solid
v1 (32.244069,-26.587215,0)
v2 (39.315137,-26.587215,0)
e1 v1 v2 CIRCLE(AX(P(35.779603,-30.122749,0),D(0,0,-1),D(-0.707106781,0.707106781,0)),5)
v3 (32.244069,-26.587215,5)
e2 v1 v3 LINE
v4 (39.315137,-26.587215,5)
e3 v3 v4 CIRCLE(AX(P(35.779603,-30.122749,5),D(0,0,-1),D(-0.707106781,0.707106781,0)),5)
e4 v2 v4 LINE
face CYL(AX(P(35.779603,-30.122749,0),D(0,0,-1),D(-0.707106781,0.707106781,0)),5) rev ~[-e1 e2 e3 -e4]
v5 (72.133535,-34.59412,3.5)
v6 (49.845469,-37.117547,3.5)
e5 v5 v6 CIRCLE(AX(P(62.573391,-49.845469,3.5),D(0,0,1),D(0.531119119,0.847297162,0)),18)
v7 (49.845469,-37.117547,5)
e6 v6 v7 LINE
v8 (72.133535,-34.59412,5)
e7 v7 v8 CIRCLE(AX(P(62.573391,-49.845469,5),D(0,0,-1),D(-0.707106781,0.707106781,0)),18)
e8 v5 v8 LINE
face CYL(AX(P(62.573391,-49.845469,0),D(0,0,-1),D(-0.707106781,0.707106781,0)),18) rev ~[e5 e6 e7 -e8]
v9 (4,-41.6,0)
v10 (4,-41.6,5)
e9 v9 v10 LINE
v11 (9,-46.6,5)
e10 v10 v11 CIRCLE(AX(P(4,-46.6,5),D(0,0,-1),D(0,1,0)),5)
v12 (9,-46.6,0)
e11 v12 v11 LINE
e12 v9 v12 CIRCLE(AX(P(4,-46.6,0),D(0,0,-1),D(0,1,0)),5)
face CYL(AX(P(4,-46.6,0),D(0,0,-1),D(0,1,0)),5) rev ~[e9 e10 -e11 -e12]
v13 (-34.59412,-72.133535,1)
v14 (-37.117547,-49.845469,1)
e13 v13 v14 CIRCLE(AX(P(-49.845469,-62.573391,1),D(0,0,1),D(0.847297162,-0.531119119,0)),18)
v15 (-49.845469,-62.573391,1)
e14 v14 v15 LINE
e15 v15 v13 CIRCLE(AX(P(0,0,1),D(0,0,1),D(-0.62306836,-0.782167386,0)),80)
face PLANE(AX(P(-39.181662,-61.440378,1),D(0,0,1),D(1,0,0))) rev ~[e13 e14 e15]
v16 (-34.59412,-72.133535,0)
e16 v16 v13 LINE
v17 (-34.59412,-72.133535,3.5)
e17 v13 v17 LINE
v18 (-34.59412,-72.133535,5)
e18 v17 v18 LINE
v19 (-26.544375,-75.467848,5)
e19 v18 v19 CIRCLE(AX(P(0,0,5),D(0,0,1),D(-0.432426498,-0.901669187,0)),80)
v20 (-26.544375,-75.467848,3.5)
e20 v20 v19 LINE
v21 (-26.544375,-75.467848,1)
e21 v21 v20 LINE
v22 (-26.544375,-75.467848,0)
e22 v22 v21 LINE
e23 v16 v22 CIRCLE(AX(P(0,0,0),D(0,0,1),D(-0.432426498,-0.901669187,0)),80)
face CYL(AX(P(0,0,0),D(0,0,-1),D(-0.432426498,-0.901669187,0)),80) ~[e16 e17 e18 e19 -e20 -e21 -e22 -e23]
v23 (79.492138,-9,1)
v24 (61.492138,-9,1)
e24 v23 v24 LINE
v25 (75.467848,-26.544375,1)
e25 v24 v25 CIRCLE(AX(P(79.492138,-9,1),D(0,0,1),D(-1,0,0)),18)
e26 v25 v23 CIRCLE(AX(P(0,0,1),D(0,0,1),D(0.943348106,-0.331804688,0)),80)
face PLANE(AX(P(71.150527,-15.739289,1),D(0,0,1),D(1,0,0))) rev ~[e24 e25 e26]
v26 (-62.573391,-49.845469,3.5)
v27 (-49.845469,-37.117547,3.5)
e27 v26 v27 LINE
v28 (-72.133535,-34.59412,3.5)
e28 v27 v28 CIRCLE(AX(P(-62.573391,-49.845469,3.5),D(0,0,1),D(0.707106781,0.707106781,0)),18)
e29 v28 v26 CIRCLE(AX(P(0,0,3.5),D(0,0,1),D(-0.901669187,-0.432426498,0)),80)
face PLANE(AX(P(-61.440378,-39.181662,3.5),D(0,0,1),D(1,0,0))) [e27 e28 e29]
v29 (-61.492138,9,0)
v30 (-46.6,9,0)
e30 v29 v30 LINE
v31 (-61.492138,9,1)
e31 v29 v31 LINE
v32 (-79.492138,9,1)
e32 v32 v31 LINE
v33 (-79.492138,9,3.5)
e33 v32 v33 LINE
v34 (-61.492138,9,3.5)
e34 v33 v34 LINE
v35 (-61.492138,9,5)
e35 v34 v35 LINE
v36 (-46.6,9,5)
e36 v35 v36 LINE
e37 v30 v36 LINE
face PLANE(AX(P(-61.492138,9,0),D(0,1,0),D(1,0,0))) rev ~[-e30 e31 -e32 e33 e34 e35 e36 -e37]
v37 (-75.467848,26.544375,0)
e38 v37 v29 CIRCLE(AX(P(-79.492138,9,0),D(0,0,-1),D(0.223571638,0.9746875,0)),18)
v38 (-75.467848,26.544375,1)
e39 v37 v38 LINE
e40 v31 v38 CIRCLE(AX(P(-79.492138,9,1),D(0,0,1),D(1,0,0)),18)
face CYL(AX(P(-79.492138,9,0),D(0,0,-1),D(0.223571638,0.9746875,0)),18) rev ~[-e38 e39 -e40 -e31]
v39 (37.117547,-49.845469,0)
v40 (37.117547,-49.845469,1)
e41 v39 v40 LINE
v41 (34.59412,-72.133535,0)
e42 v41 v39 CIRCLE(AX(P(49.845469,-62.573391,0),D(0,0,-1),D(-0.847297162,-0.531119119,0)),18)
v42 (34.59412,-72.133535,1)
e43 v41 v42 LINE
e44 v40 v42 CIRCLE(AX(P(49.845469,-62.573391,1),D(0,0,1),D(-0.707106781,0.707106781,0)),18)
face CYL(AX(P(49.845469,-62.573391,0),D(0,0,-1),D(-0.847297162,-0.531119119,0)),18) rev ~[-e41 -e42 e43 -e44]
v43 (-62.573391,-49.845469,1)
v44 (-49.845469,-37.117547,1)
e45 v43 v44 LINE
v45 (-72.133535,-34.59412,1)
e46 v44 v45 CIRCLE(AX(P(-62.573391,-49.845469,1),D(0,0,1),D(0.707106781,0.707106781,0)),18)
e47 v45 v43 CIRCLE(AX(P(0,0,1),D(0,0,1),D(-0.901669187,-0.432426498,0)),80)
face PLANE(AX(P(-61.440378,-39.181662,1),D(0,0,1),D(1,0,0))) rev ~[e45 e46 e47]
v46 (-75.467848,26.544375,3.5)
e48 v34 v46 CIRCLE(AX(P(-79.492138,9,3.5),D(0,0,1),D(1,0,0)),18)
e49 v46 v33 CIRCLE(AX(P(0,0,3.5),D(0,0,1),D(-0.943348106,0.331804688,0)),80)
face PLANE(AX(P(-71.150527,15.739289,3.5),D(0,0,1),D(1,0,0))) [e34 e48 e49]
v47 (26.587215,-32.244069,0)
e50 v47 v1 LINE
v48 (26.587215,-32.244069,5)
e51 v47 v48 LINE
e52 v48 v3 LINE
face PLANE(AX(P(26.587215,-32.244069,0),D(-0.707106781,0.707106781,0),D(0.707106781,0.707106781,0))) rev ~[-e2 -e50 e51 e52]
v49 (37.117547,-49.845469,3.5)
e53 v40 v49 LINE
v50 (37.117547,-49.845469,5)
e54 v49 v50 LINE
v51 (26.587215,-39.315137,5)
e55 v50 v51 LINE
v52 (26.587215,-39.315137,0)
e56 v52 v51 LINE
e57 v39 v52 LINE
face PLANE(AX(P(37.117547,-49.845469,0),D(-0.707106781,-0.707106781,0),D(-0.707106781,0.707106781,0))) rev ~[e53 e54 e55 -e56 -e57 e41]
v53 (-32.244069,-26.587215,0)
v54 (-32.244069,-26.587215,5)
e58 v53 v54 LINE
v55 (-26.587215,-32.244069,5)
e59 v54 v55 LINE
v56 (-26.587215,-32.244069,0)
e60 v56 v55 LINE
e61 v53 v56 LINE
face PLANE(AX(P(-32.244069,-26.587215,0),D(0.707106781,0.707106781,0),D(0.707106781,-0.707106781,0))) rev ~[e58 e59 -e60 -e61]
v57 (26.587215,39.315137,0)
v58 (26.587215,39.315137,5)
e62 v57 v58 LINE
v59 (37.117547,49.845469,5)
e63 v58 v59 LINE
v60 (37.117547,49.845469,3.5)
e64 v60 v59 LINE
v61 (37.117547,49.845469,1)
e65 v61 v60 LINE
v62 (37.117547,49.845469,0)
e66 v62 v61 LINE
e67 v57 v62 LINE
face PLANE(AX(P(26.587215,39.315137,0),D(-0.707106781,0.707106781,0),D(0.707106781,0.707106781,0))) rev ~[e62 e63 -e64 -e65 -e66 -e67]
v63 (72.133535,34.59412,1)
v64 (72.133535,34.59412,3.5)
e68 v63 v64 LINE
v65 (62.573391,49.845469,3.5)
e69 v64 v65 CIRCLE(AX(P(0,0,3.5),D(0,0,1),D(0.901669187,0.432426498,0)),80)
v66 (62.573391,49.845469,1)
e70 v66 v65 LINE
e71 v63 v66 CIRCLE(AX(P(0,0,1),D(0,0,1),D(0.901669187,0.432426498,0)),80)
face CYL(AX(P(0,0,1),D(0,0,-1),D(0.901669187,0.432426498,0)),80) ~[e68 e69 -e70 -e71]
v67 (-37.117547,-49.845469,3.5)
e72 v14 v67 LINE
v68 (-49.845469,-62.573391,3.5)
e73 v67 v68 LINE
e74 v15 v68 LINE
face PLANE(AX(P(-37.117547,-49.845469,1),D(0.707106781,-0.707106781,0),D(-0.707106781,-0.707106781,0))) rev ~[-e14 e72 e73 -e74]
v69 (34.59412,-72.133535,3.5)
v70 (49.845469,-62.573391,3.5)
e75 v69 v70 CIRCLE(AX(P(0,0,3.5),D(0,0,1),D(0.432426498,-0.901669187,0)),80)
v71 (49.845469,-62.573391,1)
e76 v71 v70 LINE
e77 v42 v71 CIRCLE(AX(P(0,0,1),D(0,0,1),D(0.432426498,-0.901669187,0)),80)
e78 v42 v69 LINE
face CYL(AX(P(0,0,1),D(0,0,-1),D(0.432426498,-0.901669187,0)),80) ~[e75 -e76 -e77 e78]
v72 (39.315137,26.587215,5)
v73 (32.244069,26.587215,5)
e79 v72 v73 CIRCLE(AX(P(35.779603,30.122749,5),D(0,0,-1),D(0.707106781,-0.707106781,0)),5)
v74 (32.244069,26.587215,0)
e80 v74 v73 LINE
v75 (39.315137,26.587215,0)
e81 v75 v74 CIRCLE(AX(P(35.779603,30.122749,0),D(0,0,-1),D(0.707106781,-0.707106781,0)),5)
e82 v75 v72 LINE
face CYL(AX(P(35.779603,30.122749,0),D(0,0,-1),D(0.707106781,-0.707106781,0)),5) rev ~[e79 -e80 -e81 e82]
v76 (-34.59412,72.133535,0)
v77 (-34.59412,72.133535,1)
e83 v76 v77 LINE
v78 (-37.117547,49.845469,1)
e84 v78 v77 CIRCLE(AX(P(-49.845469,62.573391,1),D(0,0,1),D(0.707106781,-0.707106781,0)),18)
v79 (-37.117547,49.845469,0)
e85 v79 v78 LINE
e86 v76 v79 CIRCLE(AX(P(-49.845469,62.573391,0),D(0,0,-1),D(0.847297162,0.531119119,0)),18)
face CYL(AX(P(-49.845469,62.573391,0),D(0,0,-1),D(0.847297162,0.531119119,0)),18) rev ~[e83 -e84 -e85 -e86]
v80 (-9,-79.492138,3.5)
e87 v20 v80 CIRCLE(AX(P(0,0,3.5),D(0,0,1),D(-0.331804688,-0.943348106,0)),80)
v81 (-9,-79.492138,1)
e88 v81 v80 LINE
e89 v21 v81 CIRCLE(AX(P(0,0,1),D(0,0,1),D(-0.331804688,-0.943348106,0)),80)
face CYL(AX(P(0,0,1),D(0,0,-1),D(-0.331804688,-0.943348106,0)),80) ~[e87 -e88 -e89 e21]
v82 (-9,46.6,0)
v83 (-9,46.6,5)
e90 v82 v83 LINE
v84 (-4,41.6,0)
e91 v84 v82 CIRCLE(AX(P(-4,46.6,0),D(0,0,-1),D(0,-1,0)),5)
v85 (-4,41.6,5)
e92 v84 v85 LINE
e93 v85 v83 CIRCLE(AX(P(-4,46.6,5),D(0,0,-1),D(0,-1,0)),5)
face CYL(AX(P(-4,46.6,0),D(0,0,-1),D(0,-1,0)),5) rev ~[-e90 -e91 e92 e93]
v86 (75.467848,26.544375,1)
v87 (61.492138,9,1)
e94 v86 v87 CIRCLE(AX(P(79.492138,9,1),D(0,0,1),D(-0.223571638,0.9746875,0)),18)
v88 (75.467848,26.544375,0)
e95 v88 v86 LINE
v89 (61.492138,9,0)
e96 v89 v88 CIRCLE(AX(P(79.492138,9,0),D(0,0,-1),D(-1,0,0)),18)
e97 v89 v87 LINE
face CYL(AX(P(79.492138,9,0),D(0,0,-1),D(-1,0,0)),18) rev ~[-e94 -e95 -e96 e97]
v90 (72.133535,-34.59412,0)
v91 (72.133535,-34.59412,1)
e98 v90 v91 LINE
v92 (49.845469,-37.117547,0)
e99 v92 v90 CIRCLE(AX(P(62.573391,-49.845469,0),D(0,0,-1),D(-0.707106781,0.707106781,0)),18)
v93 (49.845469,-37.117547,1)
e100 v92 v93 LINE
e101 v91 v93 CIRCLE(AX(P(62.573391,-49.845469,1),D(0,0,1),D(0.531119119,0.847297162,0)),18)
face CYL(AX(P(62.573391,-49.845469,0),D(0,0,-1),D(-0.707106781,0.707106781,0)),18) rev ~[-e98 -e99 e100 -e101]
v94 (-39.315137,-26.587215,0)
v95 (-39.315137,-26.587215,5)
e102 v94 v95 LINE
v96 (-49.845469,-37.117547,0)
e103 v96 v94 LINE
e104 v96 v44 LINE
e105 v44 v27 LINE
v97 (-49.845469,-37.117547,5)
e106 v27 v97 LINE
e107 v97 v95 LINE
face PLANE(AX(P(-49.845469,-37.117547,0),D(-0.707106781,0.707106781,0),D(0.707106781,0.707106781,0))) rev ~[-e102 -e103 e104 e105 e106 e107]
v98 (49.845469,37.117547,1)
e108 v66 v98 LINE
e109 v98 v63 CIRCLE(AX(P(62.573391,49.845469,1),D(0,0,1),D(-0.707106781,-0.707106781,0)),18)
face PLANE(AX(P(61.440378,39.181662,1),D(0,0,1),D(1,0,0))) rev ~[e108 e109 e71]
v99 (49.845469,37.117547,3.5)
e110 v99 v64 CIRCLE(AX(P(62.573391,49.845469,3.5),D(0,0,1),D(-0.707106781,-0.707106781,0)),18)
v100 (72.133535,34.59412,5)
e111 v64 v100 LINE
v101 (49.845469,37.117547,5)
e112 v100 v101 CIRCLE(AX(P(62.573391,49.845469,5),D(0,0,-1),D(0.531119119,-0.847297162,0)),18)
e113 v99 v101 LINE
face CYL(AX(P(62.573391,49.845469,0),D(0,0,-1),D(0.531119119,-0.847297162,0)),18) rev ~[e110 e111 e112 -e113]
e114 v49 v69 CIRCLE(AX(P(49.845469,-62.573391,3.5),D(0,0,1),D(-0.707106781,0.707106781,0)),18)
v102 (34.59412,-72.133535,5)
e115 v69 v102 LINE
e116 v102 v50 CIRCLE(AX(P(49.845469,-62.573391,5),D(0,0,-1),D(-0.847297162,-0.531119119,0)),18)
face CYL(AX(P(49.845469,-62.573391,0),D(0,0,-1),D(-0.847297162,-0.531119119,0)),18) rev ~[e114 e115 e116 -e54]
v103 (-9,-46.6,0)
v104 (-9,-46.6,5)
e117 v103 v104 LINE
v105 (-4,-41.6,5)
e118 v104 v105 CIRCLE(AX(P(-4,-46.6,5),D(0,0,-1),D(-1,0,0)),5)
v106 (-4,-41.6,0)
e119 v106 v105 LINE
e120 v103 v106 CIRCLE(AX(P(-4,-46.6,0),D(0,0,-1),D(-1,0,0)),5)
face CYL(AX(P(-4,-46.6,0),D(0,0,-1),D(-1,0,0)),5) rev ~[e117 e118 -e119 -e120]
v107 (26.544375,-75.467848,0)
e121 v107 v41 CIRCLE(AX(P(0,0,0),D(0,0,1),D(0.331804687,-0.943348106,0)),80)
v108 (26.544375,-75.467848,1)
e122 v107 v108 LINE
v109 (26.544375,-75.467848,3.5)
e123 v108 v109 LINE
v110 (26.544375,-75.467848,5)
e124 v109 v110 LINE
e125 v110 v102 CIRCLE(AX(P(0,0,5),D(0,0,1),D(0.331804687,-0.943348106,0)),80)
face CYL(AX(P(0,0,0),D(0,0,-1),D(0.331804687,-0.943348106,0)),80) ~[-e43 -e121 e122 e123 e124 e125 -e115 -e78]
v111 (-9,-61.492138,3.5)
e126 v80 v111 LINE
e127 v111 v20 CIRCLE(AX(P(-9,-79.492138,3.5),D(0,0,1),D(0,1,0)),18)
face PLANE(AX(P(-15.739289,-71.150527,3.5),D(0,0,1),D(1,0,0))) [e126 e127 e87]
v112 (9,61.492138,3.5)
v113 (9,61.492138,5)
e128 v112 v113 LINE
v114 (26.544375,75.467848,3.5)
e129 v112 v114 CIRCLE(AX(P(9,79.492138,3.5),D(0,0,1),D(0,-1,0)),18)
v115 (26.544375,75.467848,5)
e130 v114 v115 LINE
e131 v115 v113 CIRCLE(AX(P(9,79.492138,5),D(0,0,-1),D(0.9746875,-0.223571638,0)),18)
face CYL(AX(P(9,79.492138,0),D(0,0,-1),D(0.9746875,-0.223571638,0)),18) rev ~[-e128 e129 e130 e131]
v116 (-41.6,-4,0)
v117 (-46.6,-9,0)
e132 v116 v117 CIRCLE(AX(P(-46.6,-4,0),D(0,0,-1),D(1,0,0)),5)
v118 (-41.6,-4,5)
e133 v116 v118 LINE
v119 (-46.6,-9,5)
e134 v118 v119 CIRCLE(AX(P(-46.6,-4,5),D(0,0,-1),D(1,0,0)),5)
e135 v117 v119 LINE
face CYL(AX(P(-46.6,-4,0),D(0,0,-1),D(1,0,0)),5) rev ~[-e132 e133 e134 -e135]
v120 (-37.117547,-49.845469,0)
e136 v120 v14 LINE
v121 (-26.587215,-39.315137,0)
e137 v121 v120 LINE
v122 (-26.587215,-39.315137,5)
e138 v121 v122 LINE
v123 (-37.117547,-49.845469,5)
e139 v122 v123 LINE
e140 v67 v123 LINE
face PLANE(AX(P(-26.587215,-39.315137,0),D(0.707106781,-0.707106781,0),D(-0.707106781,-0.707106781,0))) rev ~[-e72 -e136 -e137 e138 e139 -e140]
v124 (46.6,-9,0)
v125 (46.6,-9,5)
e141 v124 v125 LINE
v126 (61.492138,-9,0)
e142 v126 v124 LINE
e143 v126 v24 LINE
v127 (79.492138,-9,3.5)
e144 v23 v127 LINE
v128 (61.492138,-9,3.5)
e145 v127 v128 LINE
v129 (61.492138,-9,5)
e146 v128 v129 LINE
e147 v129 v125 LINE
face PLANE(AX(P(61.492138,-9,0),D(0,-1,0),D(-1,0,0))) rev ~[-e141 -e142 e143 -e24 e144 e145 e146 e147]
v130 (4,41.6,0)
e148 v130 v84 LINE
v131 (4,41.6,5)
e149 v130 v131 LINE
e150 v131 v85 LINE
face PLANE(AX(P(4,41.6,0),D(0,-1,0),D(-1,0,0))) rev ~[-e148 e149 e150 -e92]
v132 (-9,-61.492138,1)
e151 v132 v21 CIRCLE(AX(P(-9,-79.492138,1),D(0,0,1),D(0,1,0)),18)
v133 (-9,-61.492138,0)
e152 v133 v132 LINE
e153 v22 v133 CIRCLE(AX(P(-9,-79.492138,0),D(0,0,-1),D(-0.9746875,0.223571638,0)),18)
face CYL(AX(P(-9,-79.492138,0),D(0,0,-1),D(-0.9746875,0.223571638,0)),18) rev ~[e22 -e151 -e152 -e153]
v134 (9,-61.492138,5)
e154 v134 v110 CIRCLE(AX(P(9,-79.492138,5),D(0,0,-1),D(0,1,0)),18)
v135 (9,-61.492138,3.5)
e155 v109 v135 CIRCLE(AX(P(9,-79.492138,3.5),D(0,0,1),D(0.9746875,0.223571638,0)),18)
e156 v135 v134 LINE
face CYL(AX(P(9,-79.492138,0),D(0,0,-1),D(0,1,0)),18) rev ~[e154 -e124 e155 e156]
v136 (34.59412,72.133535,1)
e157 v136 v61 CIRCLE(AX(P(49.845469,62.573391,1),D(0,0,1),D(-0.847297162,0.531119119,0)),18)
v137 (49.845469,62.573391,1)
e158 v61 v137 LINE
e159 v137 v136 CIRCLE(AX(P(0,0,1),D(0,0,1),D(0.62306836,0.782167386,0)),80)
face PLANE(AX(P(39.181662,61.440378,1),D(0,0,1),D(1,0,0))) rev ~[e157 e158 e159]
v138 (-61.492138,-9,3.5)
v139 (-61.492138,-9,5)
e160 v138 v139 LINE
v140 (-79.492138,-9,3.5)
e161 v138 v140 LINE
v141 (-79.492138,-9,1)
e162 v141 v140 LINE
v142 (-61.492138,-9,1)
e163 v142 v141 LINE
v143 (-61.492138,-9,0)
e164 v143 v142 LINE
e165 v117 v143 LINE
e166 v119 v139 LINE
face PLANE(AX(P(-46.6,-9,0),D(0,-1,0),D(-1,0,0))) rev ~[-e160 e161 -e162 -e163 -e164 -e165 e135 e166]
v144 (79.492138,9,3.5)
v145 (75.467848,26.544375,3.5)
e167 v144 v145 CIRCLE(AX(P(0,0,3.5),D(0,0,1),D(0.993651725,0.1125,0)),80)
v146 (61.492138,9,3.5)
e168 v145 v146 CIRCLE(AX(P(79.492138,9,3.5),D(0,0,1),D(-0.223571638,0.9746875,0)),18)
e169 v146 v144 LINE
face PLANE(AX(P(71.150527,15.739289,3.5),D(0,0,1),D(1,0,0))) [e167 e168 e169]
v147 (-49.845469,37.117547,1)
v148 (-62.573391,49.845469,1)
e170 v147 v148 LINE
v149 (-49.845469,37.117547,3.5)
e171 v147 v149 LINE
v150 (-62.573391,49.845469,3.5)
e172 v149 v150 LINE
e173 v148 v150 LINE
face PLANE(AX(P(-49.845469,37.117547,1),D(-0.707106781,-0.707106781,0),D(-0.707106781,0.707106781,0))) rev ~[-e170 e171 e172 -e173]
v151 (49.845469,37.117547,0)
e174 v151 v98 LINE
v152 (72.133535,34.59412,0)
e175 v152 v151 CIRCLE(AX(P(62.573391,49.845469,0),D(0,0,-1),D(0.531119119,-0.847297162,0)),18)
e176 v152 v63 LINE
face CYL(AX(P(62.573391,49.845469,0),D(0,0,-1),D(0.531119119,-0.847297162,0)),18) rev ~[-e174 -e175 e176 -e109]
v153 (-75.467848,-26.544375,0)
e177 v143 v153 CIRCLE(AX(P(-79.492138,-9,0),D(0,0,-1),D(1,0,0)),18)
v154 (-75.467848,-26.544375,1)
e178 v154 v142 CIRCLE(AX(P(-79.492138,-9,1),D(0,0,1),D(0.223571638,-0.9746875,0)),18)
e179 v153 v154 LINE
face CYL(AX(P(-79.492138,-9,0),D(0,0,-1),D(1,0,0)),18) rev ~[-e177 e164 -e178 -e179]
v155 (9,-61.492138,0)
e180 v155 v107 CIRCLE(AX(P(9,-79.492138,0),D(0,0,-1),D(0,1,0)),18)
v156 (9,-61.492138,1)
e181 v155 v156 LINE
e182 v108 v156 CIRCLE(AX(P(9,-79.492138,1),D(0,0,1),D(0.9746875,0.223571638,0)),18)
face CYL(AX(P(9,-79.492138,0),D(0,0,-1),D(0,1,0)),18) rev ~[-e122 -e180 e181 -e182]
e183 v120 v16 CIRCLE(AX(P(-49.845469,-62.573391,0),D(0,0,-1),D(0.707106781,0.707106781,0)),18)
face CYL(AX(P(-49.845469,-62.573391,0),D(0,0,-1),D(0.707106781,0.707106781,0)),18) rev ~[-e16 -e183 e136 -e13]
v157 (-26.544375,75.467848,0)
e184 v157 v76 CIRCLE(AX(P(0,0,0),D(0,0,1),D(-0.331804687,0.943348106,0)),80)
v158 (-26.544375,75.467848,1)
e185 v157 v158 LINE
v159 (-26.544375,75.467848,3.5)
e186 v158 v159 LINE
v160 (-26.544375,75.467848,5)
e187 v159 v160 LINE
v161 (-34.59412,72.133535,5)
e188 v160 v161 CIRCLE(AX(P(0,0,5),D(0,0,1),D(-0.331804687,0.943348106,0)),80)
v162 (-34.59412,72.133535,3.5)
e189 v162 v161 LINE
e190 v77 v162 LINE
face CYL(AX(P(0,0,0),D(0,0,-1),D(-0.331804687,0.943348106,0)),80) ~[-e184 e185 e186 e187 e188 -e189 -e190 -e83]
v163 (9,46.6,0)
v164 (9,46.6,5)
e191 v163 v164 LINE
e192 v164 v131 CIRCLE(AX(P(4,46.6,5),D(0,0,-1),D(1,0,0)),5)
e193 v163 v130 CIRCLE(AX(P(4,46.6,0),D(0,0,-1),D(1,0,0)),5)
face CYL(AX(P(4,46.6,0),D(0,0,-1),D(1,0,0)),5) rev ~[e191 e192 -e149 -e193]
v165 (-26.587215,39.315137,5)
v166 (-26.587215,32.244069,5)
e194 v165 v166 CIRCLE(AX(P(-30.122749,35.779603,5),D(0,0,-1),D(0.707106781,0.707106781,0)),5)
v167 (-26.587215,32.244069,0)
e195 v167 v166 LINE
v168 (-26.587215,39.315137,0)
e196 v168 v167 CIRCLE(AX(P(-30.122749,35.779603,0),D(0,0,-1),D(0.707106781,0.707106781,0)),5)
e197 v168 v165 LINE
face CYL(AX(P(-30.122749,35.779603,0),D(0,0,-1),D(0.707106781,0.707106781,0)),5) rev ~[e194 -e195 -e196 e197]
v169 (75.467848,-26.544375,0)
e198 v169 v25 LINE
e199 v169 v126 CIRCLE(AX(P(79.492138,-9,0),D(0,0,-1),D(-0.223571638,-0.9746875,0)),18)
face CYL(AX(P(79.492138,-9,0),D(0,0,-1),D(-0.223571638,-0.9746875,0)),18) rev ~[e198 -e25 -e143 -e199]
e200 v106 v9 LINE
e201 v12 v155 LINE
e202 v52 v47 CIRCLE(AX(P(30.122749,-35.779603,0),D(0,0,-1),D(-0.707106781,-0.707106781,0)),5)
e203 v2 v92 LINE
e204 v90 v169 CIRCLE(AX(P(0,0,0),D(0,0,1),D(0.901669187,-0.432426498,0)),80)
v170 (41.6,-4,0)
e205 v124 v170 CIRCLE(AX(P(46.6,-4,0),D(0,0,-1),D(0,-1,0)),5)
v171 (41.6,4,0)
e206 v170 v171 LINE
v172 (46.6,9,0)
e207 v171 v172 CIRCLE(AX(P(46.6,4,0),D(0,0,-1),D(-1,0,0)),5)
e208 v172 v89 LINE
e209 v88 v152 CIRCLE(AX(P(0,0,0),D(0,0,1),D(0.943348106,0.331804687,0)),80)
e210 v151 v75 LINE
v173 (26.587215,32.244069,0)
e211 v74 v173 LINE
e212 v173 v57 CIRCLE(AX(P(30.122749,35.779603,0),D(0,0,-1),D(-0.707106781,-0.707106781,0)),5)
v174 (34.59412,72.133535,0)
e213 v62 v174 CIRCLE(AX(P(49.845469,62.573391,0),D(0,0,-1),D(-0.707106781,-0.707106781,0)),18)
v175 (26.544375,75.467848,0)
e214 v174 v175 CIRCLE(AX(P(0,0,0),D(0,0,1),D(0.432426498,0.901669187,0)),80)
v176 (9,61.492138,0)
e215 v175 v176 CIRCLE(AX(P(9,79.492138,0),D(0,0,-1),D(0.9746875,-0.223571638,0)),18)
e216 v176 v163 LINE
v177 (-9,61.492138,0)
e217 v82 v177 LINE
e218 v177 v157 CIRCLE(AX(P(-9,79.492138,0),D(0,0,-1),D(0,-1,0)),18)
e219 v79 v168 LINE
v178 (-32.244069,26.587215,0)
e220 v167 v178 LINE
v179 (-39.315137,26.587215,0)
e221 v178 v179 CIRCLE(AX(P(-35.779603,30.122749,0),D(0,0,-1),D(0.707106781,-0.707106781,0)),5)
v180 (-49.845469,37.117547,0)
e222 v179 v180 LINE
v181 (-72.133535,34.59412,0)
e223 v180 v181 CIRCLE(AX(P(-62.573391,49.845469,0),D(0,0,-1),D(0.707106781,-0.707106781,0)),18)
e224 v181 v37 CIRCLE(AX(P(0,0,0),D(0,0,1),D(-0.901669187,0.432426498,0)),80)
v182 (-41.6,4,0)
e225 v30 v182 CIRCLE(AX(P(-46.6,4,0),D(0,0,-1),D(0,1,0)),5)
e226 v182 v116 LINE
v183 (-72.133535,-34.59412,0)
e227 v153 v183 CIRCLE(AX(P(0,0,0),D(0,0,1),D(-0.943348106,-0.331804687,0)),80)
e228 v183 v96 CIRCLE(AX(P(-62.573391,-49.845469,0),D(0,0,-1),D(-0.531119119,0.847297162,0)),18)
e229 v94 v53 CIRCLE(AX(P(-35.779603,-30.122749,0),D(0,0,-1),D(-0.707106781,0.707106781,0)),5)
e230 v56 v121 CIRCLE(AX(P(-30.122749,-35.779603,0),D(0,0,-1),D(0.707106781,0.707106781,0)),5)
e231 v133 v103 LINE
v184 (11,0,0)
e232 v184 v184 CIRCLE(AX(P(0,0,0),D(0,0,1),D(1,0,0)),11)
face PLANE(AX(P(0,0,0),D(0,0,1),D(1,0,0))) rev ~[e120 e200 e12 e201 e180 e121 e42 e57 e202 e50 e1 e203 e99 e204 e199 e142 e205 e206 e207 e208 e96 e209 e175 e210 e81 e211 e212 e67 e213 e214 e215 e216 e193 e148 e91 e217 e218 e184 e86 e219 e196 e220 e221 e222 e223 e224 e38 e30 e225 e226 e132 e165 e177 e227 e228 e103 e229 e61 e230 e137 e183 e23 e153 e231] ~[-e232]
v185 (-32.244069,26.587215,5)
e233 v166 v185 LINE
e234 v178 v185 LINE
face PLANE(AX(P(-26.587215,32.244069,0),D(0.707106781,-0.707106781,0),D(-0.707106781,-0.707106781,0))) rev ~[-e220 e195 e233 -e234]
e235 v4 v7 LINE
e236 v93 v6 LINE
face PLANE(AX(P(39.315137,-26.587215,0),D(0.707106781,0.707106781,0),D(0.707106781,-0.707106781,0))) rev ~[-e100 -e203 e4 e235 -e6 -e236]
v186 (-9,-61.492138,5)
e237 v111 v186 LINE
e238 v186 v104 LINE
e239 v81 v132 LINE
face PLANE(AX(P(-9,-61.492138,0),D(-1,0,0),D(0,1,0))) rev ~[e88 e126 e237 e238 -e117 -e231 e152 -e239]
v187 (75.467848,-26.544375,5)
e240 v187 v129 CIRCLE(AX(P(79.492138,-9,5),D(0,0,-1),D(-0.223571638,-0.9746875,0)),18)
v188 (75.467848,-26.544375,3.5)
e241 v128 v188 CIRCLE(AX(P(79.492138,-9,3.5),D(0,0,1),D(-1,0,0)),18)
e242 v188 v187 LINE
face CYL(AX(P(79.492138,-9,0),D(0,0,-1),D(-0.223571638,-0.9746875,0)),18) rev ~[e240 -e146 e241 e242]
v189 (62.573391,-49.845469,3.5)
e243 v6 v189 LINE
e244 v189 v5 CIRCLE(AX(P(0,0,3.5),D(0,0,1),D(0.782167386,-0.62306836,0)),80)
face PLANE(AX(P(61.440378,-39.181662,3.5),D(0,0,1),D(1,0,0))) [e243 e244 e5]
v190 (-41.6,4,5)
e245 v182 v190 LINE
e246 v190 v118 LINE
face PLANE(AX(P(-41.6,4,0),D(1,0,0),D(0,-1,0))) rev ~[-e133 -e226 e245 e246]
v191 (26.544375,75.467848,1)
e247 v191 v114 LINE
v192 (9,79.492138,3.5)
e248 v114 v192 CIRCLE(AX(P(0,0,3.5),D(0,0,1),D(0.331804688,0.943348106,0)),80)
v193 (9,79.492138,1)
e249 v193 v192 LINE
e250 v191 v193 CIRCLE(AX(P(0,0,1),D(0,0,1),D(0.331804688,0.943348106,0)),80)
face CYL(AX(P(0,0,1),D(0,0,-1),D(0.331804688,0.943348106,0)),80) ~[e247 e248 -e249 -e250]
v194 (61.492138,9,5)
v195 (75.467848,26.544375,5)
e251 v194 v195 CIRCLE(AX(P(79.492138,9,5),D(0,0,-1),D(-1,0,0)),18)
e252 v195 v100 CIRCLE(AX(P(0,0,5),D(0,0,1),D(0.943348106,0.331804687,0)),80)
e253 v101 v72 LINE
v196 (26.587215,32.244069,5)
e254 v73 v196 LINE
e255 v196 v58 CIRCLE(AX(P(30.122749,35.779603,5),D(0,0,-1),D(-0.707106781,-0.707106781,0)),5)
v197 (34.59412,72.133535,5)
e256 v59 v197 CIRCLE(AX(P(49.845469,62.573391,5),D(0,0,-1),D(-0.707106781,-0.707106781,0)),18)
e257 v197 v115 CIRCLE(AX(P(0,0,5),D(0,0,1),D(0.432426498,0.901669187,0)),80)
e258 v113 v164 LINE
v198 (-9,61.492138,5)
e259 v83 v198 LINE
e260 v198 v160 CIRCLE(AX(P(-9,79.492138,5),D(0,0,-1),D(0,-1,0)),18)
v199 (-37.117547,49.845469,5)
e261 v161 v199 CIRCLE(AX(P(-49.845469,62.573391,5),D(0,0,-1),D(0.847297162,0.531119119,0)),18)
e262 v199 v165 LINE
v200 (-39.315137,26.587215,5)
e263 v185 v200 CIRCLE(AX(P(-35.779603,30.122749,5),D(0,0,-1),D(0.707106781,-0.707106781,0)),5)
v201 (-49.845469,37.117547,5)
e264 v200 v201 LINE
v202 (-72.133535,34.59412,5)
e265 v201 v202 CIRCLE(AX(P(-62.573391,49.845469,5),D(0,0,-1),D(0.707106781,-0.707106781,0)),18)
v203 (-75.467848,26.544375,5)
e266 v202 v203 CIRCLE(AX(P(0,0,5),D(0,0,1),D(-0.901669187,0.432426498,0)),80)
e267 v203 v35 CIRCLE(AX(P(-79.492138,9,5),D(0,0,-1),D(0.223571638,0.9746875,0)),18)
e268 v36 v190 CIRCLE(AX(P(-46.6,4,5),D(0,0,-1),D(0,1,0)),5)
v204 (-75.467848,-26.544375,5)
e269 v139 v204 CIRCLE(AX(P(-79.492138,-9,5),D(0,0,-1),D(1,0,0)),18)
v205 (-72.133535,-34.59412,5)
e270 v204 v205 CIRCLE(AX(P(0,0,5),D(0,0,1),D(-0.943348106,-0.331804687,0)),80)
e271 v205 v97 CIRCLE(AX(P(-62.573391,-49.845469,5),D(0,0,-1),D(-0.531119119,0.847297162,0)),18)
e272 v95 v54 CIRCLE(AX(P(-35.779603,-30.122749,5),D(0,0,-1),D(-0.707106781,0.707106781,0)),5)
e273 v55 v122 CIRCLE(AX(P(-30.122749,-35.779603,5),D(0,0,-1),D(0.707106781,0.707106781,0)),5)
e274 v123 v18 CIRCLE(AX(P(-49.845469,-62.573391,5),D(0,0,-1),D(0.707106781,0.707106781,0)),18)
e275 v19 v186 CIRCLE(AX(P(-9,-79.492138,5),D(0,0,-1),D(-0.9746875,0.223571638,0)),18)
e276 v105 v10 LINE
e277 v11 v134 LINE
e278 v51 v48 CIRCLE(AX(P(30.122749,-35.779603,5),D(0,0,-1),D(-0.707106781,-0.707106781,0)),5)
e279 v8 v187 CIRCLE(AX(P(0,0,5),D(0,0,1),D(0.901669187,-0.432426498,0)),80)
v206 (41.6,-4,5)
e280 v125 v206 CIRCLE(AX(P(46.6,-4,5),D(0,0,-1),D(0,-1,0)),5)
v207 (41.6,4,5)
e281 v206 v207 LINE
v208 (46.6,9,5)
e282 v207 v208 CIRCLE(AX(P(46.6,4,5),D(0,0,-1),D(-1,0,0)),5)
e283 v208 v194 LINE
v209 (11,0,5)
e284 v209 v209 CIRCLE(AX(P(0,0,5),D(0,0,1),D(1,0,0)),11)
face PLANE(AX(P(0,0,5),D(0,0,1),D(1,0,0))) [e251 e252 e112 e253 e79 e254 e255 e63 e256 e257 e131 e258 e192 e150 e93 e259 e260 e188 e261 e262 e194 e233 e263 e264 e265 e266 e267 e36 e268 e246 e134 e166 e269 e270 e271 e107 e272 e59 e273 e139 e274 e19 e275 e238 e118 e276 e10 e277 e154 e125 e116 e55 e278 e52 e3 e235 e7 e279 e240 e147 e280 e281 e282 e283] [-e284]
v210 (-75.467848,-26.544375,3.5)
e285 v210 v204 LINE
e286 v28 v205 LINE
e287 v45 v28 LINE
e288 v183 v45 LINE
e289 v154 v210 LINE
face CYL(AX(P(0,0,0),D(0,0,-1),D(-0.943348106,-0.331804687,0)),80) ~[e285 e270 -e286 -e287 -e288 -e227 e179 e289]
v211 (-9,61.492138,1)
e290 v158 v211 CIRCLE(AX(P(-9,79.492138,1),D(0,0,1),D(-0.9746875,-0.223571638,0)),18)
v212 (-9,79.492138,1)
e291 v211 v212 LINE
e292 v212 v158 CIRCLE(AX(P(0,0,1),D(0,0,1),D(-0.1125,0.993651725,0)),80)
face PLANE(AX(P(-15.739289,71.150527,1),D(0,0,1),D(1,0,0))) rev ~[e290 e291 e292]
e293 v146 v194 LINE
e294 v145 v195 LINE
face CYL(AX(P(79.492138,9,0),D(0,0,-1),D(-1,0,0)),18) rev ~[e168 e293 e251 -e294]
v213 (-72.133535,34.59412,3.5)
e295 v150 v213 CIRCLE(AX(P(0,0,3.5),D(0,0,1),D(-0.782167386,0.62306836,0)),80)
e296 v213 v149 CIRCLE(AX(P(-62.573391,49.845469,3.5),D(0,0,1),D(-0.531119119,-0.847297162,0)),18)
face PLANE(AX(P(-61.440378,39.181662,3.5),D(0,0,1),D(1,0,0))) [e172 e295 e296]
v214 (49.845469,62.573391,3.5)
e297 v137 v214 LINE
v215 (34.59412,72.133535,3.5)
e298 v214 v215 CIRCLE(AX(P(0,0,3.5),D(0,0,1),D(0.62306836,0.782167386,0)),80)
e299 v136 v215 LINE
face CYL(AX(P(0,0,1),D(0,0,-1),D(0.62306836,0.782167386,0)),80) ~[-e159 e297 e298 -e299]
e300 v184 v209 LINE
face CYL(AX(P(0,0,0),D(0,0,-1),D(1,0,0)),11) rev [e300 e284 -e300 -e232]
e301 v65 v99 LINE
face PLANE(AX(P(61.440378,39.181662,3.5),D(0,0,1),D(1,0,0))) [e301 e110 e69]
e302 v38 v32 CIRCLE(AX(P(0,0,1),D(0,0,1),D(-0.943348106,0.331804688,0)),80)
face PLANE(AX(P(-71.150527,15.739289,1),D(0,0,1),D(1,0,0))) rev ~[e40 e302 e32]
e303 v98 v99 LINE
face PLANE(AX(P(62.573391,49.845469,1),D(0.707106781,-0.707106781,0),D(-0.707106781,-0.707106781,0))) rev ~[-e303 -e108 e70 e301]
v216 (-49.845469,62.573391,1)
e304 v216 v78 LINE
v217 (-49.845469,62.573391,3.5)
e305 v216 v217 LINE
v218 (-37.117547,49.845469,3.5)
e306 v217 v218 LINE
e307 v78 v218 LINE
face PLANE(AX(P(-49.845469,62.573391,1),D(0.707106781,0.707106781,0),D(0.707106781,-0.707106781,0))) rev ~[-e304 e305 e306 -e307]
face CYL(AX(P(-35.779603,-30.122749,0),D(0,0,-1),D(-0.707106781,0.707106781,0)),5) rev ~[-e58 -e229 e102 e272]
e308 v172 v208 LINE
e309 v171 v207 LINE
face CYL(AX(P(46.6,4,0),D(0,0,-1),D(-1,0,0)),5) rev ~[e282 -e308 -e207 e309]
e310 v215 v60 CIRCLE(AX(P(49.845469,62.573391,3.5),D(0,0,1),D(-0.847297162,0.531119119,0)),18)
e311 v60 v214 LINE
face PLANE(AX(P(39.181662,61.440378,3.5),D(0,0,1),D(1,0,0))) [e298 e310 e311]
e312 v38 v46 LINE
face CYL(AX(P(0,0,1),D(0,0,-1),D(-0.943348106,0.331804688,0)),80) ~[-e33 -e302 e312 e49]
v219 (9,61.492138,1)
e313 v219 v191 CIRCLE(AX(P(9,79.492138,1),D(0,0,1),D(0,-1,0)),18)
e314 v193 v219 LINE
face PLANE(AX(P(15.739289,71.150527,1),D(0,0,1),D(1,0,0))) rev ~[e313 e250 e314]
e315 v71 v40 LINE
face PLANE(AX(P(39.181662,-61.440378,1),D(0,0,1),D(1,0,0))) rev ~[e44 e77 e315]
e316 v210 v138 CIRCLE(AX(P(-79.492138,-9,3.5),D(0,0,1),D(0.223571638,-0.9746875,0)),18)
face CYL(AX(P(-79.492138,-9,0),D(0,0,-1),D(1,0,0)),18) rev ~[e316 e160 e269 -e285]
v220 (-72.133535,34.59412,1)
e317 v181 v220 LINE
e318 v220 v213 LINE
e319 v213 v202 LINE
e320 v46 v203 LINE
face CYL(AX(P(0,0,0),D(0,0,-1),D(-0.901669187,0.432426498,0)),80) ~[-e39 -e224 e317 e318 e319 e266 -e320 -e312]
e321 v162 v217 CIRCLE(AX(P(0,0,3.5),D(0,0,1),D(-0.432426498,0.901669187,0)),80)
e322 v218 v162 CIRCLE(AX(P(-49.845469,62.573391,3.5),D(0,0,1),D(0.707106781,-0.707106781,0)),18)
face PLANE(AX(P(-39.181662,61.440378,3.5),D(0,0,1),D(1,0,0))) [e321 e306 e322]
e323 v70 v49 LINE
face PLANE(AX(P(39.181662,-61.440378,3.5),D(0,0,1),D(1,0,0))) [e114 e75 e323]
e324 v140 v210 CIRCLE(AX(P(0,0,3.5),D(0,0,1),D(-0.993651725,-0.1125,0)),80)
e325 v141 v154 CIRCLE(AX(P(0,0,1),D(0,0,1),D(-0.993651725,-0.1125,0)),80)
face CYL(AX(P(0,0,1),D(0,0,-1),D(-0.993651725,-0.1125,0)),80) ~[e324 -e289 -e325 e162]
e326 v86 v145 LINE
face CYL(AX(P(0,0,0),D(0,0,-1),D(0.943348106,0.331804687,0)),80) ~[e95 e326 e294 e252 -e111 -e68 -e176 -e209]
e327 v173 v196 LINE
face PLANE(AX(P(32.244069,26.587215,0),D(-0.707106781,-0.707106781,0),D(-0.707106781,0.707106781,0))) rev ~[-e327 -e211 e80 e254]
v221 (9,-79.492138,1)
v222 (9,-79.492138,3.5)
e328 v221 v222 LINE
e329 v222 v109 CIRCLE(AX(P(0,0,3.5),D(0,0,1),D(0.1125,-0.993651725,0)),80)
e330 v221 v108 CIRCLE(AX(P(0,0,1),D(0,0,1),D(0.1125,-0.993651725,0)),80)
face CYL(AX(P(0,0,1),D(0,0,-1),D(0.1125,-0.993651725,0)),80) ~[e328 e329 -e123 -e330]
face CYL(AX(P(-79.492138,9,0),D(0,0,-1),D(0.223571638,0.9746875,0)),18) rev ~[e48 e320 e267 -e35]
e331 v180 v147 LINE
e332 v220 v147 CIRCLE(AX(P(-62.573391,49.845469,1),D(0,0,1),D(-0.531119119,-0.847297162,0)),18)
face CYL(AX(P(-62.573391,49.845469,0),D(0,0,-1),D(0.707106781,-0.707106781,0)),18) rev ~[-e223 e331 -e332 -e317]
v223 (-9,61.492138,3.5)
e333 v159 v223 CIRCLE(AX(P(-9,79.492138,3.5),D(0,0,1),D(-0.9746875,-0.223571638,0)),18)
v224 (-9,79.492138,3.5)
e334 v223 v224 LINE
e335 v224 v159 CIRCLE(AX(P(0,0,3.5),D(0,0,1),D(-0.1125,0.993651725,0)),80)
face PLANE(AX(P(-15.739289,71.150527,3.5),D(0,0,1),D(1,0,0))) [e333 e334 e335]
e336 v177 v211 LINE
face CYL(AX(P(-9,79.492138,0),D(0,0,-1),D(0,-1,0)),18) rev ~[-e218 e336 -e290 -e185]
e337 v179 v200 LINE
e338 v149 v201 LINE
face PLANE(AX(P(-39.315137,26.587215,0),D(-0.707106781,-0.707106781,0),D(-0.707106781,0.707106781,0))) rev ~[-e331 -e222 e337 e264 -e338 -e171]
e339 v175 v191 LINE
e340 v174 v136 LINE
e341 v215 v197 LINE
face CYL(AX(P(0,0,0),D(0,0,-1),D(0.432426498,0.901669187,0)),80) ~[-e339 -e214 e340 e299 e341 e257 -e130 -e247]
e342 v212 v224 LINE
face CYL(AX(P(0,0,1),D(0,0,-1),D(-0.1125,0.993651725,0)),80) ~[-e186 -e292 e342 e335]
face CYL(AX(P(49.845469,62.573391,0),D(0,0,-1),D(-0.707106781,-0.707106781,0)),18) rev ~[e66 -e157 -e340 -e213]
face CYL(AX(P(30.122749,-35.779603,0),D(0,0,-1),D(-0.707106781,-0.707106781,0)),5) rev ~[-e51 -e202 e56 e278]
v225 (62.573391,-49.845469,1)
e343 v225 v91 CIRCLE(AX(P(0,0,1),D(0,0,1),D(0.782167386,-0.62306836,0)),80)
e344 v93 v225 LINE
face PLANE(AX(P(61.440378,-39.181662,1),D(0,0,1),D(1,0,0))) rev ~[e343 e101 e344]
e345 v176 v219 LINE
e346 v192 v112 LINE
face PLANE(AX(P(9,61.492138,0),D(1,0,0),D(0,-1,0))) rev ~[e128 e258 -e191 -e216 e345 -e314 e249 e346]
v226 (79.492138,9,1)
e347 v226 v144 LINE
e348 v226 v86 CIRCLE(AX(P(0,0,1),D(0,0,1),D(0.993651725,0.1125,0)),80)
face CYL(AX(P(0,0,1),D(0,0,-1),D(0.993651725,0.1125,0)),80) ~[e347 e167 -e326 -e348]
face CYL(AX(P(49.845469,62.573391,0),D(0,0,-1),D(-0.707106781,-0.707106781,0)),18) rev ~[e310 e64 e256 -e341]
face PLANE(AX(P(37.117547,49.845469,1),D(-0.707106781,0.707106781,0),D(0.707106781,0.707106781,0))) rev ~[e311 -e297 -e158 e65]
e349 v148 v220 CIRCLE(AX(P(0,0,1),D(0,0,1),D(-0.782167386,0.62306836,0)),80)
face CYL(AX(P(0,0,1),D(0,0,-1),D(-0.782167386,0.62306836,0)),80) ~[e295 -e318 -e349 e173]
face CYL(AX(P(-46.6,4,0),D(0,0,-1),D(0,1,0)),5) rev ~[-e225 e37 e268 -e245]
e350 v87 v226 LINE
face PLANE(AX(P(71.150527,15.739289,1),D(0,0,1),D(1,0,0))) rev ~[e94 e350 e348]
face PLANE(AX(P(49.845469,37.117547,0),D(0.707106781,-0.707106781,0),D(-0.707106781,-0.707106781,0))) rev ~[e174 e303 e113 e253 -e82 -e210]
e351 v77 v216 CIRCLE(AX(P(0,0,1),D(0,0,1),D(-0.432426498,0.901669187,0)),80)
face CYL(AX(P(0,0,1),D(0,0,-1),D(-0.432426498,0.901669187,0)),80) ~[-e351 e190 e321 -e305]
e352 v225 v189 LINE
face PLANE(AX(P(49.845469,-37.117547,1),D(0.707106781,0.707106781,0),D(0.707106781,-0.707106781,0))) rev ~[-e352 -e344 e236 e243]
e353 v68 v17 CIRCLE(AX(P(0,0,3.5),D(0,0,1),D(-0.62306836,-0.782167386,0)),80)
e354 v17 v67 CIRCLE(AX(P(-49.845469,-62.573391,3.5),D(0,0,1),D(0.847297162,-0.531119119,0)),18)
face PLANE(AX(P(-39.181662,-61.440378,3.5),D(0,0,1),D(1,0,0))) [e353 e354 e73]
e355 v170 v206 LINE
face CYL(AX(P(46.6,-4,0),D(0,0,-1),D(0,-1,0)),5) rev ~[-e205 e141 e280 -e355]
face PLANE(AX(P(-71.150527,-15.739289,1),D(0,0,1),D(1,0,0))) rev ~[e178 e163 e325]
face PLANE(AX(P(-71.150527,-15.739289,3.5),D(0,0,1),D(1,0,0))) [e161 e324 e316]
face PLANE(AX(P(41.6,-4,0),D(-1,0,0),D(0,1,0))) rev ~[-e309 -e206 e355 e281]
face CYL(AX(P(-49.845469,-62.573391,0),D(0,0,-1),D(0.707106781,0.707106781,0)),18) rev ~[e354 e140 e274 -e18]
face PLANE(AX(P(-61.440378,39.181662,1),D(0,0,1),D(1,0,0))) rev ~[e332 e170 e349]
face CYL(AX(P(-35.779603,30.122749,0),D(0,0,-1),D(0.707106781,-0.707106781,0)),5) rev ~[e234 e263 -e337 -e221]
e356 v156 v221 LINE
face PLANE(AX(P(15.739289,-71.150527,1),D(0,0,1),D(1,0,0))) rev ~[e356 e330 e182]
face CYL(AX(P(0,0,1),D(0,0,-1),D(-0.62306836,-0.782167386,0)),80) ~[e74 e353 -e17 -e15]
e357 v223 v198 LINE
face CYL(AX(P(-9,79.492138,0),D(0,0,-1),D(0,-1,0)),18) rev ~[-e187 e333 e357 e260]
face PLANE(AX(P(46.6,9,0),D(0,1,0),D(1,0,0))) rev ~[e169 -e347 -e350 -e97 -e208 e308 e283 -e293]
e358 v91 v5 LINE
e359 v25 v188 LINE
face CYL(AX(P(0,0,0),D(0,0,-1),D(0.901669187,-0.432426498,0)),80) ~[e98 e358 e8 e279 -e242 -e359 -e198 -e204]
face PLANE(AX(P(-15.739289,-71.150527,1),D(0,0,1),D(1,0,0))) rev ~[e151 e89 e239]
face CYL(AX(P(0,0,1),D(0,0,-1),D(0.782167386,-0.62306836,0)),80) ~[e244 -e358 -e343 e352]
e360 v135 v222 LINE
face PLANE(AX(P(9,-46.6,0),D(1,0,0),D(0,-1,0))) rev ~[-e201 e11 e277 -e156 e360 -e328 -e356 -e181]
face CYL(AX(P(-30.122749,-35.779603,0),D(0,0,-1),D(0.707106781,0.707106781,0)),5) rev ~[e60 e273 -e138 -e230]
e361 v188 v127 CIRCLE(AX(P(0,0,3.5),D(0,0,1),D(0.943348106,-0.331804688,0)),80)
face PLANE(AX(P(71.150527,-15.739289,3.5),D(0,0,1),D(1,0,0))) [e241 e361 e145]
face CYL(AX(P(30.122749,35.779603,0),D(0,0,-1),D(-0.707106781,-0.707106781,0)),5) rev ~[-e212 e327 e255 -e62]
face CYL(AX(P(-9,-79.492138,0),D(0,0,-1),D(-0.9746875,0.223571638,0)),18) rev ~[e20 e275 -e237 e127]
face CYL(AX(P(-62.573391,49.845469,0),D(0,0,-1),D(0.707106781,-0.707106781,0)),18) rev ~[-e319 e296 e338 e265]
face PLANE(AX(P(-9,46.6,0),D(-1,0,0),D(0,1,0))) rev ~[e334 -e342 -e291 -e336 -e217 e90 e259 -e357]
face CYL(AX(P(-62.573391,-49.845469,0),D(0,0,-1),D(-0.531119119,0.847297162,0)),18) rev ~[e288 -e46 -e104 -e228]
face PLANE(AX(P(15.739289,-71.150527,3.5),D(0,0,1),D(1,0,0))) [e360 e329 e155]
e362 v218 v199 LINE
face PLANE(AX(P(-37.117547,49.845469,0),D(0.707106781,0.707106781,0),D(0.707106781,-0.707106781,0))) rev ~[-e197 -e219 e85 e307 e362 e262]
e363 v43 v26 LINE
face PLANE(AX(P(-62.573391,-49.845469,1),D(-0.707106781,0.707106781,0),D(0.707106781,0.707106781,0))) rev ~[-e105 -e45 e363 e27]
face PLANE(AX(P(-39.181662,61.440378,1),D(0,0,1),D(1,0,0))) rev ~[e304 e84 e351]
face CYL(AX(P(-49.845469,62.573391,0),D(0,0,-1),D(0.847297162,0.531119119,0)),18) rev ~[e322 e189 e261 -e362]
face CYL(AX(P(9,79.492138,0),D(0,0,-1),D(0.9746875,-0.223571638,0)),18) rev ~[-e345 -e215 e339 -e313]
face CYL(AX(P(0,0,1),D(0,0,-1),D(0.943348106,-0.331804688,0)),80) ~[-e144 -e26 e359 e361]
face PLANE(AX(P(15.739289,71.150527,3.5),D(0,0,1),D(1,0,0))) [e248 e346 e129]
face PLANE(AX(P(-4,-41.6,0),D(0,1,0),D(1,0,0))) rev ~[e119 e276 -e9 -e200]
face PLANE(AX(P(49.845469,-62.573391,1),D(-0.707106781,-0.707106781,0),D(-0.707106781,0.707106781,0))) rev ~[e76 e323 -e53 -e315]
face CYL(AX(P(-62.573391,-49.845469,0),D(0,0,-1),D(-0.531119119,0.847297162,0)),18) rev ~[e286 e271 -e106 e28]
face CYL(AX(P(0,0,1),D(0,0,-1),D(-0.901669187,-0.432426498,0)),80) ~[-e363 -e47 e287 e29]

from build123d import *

# Parameters (mm, degrees)
SKETCH1_R           = 11
BOSS_EXTRUDE1_DEPTH = 5
BOSS_EXTRUDE2_START = -4
BOSS_EXTRUDE2_DEPTH = 2.5


with BuildPart() as part:
    # Sketch1 → Boss-Extrude1 (new body)
    with BuildSketch(Plane.XY):
        with BuildLine():
            ThreePointArc((4, -41.6), (7.535533906, -43.064466094), (9, -46.6))
            Line((9, -46.6), (9, -61.492137976))
            ThreePointArc((9, -61.492137976), (20.215230476, -65.413125036), (26.544375, -75.467848491))
            ThreePointArc((26.544375, -75.467848491), (30.614674589, -73.910362601), (34.594119865, -72.133534994))
            ThreePointArc((34.594119865, -72.133534994), (31.959737739, -60.548390845), (37.117546722, -49.845468783))
            Line((37.117546722, -49.845468783), (26.587214973, -39.315137034))
            ThreePointArc((26.587214973, -39.315137034), (25.122748879, -35.779603128), (26.587214973, -32.244069222))
            Line((26.587214973, -32.244069222), (32.244069222, -26.587214973))
            ThreePointArc((32.244069222, -26.587214973), (35.779603128, -25.122748879), (39.315137034, -26.587214973))
            Line((39.315137034, -26.587214973), (49.845468783, -37.117546722))
            ThreePointArc((49.845468783, -37.117546722), (60.548390845, -31.959737739), (72.133534994, -34.594119865))
            ThreePointArc((72.133534994, -34.594119865), (73.910362601, -30.614674589), (75.467848491, -26.544375))
            ThreePointArc((75.467848491, -26.544375), (65.413125036, -20.215230476), (61.492137976, -9))
            Line((61.492137976, -9), (46.6, -9))
            ThreePointArc((46.6, -9), (43.064466094, -7.535533906), (41.6, -4))
            Line((41.6, -4), (41.6, 4))
            ThreePointArc((41.6, 4), (43.064466094, 7.535533906), (46.6, 9))
            Line((46.6, 9), (61.492137976, 9))
            ThreePointArc((61.492137976, 9), (65.413125036, 20.215230476), (75.467848491, 26.544375))
            ThreePointArc((75.467848491, 26.544375), (73.910362601, 30.614674589), (72.133534994, 34.594119865))
            ThreePointArc((72.133534994, 34.594119865), (60.548390845, 31.959737739), (49.845468783, 37.117546722))
            Line((49.845468783, 37.117546722), (39.315137034, 26.587214973))
            ThreePointArc((39.315137034, 26.587214973), (35.779603128, 25.122748879), (32.244069222, 26.587214973))
            Line((32.244069222, 26.587214973), (26.587214973, 32.244069222))
            ThreePointArc((26.587214973, 32.244069222), (25.122748879, 35.779603128), (26.587214973, 39.315137034))
            Line((26.587214973, 39.315137034), (37.117546722, 49.845468783))
            ThreePointArc((37.117546722, 49.845468783), (31.959737739, 60.548390845), (34.594119865, 72.133534994))
            ThreePointArc((34.594119865, 72.133534994), (30.614674589, 73.910362601), (26.544375, 75.467848491))
            ThreePointArc((26.544375, 75.467848491), (20.215230476, 65.413125036), (9, 61.492137976))
            Line((9, 61.492137976), (9, 46.6))
            ThreePointArc((9, 46.6), (7.535533906, 43.064466094), (4, 41.6))
            Line((4, 41.6), (-4, 41.6))
            ThreePointArc((-4, 41.6), (-7.535533906, 43.064466094), (-9, 46.6))
            Line((-9, 46.6), (-9, 61.492137976))
            ThreePointArc((-9, 61.492137976), (-20.215230476, 65.413125036), (-26.544375, 75.467848491))
            ThreePointArc((-26.544375, 75.467848491), (-30.614674589, 73.910362601), (-34.594119865, 72.133534994))
            ThreePointArc((-34.594119865, 72.133534994), (-31.959737739, 60.548390845), (-37.117546722, 49.845468783))
            Line((-37.117546722, 49.845468783), (-26.587214973, 39.315137034))
            ThreePointArc((-26.587214973, 39.315137034), (-25.122748879, 35.779603128), (-26.587214973, 32.244069222))
            Line((-26.587214973, 32.244069222), (-32.244069222, 26.587214973))
            ThreePointArc((-32.244069222, 26.587214973), (-35.779603128, 25.122748879), (-39.315137034, 26.587214973))
            Line((-39.315137034, 26.587214973), (-49.845468783, 37.117546722))
            ThreePointArc((-49.845468783, 37.117546722), (-60.548390845, 31.959737739), (-72.133534994, 34.594119865))
            ThreePointArc((-72.133534994, 34.594119865), (-73.910362601, 30.614674589), (-75.467848491, 26.544375))
            ThreePointArc((-75.467848491, 26.544375), (-65.413125036, 20.215230476), (-61.492137976, 9))
            Line((-61.492137976, 9), (-46.6, 9))
            ThreePointArc((-46.6, 9), (-43.064466094, 7.535533906), (-41.6, 4))
            Line((-41.6, 4), (-41.6, -4))
            ThreePointArc((-41.6, -4), (-43.064466094, -7.535533906), (-46.6, -9))
            Line((-46.6, -9), (-61.492137976, -9))
            ThreePointArc((-61.492137976, -9), (-65.413125036, -20.215230476), (-75.467848491, -26.544375))
            ThreePointArc((-75.467848491, -26.544375), (-73.910362601, -30.614674589), (-72.133534994, -34.594119865))
            ThreePointArc((-72.133534994, -34.594119865), (-60.548390845, -31.959737739), (-49.845468783, -37.117546722))
            Line((-49.845468783, -37.117546722), (-39.315137034, -26.587214973))
            ThreePointArc((-39.315137034, -26.587214973), (-35.779603128, -25.122748879), (-32.244069222, -26.587214973))
            Line((-32.244069222, -26.587214973), (-26.587214973, -32.244069222))
            ThreePointArc((-26.587214973, -32.244069222), (-25.122748879, -35.779603128), (-26.587214973, -39.315137034))
            Line((-26.587214973, -39.315137034), (-37.117546722, -49.845468783))
            ThreePointArc((-37.117546722, -49.845468783), (-31.959737739, -60.548390845), (-34.594119865, -72.133534994))
            ThreePointArc((-34.594119865, -72.133534994), (-30.614674589, -73.910362601), (-26.544375, -75.467848491))
            ThreePointArc((-26.544375, -75.467848491), (-20.215230476, -65.413125036), (-9, -61.492137976))
            Line((-9, -61.492137976), (-9, -46.6))
            ThreePointArc((-9, -46.6), (-7.535533906, -43.064466094), (-4, -41.6))
            Line((-4, -41.6), (4, -41.6))
        make_face()
        Circle(SKETCH1_R, mode=Mode.SUBTRACT)
    extrude(amount=BOSS_EXTRUDE1_DEPTH)

    # Sketch2 → Boss-Extrude2 (add)
    with BuildSketch(Plane.XY.offset(5).offset(BOSS_EXTRUDE2_START)):
        with BuildLine():
            ThreePointArc((-37.117546722, 49.845468783), (-31.959737739, 60.548390845), (-34.594119865, 72.133534994))
            ThreePointArc((-34.594119865, 72.133534994), (-42.489529555, 67.783772971), (-49.845468783, 62.573390845))
            Line((-49.845468783, 62.573390845), (-37.117546722, 49.845468783))
        make_face()
        with BuildLine():
            Line((-49.845468783, 37.117546722), (-62.573390845, 49.845468783))
            ThreePointArc((-62.573390845, 49.845468783), (-67.783772971, 42.489529555), (-72.133534994, 34.594119865))
            ThreePointArc((-72.133534994, 34.594119865), (-60.548390845, 31.959737739), (-49.845468783, 37.117546722))
        make_face()
        with BuildLine():
            Line((-9, 61.492137976), (-9, 79.492137976))
            ThreePointArc((-9, 79.492137976), (-17.885731045, 77.975), (-26.544375, 75.467848491))
            ThreePointArc((-26.544375, 75.467848491), (-20.215230476, 65.413125036), (-9, 61.492137976))
        make_face()
        with BuildLine():
            ThreePointArc((9, 61.492137976), (20.215230476, 65.413125036), (26.544375, 75.467848491))
            ThreePointArc((26.544375, 75.467848491), (17.885731045, 77.975), (9, 79.492137976))
            Line((9, 79.492137976), (9, 61.492137976))
        make_face()
        with BuildLine():
            Line((37.117546722, 49.845468783), (49.845468783, 62.573390845))
            ThreePointArc((49.845468783, 62.573390845), (42.489529555, 67.783772971), (34.594119865, 72.133534994))
            ThreePointArc((34.594119865, 72.133534994), (31.959737739, 60.548390845), (37.117546722, 49.845468783))
        make_face()
        with BuildLine():
            ThreePointArc((49.845468783, 37.117546722), (60.548390845, 31.959737739), (72.133534994, 34.594119865))
            ThreePointArc((72.133534994, 34.594119865), (67.783772971, 42.489529555), (62.573390845, 49.845468783))
            Line((62.573390845, 49.845468783), (49.845468783, 37.117546722))
        make_face()
        with BuildLine():
            Line((61.492137976, 9), (79.492137976, 9))
            ThreePointArc((79.492137976, 9), (77.975, 17.885731045), (75.467848491, 26.544375))
            ThreePointArc((75.467848491, 26.544375), (65.413125036, 20.215230476), (61.492137976, 9))
        make_face()
        with BuildLine():
            Line((79.492137976, -9), (61.492137976, -9))
            ThreePointArc((61.492137976, -9), (65.413125036, -20.215230476), (75.467848491, -26.544375))
            ThreePointArc((75.467848491, -26.544375), (77.975, -17.885731045), (79.492137976, -9))
        make_face()
        with BuildLine():
            ThreePointArc((62.573390845, -49.845468783), (67.783772971, -42.489529555), (72.133534994, -34.594119865))
            ThreePointArc((72.133534994, -34.594119865), (60.548390845, -31.959737739), (49.845468783, -37.117546722))
            Line((49.845468783, -37.117546722), (62.573390845, -49.845468783))
        make_face()
        with BuildLine():
            ThreePointArc((34.594119865, -72.133534994), (42.489529555, -67.783772971), (49.845468783, -62.573390845))
            Line((49.845468783, -62.573390845), (37.117546722, -49.845468783))
            ThreePointArc((37.117546722, -49.845468783), (31.959737739, -60.548390845), (34.594119865, -72.133534994))
        make_face()
        with BuildLine():
            ThreePointArc((9, -79.492137976), (17.885731045, -77.975), (26.544375, -75.467848491))
            ThreePointArc((26.544375, -75.467848491), (20.215230476, -65.413125036), (9, -61.492137976))
            Line((9, -61.492137976), (9, -79.492137976))
        make_face()
        with BuildLine():
            ThreePointArc((-26.544375, -75.467848491), (-17.885731045, -77.975), (-9, -79.492137976))
            Line((-9, -79.492137976), (-9, -61.492137976))
            ThreePointArc((-9, -61.492137976), (-20.215230476, -65.413125036), (-26.544375, -75.467848491))
        make_face()
        with BuildLine():
            ThreePointArc((-49.845468783, -62.573390845), (-42.489529555, -67.783772971), (-34.594119865, -72.133534994))
            ThreePointArc((-34.594119865, -72.133534994), (-31.959737739, -60.548390845), (-37.117546722, -49.845468783))
            Line((-37.117546722, -49.845468783), (-49.845468783, -62.573390845))
        make_face()
        with BuildLine():
            ThreePointArc((-72.133534994, -34.594119865), (-67.783772971, -42.489529555), (-62.573390845, -49.845468783))
            Line((-62.573390845, -49.845468783), (-49.845468783, -37.117546722))
            ThreePointArc((-49.845468783, -37.117546722), (-60.548390845, -31.959737739), (-72.133534994, -34.594119865))
        make_face()
        with BuildLine():
            ThreePointArc((-79.492137976, -9), (-77.975, -17.885731045), (-75.467848491, -26.544375))
            ThreePointArc((-75.467848491, -26.544375), (-65.413125036, -20.215230476), (-61.492137976, -9))
            Line((-61.492137976, -9), (-79.492137976, -9))
        make_face()
        with BuildLine():
            ThreePointArc((-75.467848491, 26.544375), (-77.975, 17.885731045), (-79.492137976, 9))
            Line((-79.492137976, 9), (-61.492137976, 9))
            ThreePointArc((-61.492137976, 9), (-65.413125036, 20.215230476), (-75.467848491, 26.544375))
        make_face()
    extrude(amount=BOSS_EXTRUDE2_DEPTH)


solid = part.part
